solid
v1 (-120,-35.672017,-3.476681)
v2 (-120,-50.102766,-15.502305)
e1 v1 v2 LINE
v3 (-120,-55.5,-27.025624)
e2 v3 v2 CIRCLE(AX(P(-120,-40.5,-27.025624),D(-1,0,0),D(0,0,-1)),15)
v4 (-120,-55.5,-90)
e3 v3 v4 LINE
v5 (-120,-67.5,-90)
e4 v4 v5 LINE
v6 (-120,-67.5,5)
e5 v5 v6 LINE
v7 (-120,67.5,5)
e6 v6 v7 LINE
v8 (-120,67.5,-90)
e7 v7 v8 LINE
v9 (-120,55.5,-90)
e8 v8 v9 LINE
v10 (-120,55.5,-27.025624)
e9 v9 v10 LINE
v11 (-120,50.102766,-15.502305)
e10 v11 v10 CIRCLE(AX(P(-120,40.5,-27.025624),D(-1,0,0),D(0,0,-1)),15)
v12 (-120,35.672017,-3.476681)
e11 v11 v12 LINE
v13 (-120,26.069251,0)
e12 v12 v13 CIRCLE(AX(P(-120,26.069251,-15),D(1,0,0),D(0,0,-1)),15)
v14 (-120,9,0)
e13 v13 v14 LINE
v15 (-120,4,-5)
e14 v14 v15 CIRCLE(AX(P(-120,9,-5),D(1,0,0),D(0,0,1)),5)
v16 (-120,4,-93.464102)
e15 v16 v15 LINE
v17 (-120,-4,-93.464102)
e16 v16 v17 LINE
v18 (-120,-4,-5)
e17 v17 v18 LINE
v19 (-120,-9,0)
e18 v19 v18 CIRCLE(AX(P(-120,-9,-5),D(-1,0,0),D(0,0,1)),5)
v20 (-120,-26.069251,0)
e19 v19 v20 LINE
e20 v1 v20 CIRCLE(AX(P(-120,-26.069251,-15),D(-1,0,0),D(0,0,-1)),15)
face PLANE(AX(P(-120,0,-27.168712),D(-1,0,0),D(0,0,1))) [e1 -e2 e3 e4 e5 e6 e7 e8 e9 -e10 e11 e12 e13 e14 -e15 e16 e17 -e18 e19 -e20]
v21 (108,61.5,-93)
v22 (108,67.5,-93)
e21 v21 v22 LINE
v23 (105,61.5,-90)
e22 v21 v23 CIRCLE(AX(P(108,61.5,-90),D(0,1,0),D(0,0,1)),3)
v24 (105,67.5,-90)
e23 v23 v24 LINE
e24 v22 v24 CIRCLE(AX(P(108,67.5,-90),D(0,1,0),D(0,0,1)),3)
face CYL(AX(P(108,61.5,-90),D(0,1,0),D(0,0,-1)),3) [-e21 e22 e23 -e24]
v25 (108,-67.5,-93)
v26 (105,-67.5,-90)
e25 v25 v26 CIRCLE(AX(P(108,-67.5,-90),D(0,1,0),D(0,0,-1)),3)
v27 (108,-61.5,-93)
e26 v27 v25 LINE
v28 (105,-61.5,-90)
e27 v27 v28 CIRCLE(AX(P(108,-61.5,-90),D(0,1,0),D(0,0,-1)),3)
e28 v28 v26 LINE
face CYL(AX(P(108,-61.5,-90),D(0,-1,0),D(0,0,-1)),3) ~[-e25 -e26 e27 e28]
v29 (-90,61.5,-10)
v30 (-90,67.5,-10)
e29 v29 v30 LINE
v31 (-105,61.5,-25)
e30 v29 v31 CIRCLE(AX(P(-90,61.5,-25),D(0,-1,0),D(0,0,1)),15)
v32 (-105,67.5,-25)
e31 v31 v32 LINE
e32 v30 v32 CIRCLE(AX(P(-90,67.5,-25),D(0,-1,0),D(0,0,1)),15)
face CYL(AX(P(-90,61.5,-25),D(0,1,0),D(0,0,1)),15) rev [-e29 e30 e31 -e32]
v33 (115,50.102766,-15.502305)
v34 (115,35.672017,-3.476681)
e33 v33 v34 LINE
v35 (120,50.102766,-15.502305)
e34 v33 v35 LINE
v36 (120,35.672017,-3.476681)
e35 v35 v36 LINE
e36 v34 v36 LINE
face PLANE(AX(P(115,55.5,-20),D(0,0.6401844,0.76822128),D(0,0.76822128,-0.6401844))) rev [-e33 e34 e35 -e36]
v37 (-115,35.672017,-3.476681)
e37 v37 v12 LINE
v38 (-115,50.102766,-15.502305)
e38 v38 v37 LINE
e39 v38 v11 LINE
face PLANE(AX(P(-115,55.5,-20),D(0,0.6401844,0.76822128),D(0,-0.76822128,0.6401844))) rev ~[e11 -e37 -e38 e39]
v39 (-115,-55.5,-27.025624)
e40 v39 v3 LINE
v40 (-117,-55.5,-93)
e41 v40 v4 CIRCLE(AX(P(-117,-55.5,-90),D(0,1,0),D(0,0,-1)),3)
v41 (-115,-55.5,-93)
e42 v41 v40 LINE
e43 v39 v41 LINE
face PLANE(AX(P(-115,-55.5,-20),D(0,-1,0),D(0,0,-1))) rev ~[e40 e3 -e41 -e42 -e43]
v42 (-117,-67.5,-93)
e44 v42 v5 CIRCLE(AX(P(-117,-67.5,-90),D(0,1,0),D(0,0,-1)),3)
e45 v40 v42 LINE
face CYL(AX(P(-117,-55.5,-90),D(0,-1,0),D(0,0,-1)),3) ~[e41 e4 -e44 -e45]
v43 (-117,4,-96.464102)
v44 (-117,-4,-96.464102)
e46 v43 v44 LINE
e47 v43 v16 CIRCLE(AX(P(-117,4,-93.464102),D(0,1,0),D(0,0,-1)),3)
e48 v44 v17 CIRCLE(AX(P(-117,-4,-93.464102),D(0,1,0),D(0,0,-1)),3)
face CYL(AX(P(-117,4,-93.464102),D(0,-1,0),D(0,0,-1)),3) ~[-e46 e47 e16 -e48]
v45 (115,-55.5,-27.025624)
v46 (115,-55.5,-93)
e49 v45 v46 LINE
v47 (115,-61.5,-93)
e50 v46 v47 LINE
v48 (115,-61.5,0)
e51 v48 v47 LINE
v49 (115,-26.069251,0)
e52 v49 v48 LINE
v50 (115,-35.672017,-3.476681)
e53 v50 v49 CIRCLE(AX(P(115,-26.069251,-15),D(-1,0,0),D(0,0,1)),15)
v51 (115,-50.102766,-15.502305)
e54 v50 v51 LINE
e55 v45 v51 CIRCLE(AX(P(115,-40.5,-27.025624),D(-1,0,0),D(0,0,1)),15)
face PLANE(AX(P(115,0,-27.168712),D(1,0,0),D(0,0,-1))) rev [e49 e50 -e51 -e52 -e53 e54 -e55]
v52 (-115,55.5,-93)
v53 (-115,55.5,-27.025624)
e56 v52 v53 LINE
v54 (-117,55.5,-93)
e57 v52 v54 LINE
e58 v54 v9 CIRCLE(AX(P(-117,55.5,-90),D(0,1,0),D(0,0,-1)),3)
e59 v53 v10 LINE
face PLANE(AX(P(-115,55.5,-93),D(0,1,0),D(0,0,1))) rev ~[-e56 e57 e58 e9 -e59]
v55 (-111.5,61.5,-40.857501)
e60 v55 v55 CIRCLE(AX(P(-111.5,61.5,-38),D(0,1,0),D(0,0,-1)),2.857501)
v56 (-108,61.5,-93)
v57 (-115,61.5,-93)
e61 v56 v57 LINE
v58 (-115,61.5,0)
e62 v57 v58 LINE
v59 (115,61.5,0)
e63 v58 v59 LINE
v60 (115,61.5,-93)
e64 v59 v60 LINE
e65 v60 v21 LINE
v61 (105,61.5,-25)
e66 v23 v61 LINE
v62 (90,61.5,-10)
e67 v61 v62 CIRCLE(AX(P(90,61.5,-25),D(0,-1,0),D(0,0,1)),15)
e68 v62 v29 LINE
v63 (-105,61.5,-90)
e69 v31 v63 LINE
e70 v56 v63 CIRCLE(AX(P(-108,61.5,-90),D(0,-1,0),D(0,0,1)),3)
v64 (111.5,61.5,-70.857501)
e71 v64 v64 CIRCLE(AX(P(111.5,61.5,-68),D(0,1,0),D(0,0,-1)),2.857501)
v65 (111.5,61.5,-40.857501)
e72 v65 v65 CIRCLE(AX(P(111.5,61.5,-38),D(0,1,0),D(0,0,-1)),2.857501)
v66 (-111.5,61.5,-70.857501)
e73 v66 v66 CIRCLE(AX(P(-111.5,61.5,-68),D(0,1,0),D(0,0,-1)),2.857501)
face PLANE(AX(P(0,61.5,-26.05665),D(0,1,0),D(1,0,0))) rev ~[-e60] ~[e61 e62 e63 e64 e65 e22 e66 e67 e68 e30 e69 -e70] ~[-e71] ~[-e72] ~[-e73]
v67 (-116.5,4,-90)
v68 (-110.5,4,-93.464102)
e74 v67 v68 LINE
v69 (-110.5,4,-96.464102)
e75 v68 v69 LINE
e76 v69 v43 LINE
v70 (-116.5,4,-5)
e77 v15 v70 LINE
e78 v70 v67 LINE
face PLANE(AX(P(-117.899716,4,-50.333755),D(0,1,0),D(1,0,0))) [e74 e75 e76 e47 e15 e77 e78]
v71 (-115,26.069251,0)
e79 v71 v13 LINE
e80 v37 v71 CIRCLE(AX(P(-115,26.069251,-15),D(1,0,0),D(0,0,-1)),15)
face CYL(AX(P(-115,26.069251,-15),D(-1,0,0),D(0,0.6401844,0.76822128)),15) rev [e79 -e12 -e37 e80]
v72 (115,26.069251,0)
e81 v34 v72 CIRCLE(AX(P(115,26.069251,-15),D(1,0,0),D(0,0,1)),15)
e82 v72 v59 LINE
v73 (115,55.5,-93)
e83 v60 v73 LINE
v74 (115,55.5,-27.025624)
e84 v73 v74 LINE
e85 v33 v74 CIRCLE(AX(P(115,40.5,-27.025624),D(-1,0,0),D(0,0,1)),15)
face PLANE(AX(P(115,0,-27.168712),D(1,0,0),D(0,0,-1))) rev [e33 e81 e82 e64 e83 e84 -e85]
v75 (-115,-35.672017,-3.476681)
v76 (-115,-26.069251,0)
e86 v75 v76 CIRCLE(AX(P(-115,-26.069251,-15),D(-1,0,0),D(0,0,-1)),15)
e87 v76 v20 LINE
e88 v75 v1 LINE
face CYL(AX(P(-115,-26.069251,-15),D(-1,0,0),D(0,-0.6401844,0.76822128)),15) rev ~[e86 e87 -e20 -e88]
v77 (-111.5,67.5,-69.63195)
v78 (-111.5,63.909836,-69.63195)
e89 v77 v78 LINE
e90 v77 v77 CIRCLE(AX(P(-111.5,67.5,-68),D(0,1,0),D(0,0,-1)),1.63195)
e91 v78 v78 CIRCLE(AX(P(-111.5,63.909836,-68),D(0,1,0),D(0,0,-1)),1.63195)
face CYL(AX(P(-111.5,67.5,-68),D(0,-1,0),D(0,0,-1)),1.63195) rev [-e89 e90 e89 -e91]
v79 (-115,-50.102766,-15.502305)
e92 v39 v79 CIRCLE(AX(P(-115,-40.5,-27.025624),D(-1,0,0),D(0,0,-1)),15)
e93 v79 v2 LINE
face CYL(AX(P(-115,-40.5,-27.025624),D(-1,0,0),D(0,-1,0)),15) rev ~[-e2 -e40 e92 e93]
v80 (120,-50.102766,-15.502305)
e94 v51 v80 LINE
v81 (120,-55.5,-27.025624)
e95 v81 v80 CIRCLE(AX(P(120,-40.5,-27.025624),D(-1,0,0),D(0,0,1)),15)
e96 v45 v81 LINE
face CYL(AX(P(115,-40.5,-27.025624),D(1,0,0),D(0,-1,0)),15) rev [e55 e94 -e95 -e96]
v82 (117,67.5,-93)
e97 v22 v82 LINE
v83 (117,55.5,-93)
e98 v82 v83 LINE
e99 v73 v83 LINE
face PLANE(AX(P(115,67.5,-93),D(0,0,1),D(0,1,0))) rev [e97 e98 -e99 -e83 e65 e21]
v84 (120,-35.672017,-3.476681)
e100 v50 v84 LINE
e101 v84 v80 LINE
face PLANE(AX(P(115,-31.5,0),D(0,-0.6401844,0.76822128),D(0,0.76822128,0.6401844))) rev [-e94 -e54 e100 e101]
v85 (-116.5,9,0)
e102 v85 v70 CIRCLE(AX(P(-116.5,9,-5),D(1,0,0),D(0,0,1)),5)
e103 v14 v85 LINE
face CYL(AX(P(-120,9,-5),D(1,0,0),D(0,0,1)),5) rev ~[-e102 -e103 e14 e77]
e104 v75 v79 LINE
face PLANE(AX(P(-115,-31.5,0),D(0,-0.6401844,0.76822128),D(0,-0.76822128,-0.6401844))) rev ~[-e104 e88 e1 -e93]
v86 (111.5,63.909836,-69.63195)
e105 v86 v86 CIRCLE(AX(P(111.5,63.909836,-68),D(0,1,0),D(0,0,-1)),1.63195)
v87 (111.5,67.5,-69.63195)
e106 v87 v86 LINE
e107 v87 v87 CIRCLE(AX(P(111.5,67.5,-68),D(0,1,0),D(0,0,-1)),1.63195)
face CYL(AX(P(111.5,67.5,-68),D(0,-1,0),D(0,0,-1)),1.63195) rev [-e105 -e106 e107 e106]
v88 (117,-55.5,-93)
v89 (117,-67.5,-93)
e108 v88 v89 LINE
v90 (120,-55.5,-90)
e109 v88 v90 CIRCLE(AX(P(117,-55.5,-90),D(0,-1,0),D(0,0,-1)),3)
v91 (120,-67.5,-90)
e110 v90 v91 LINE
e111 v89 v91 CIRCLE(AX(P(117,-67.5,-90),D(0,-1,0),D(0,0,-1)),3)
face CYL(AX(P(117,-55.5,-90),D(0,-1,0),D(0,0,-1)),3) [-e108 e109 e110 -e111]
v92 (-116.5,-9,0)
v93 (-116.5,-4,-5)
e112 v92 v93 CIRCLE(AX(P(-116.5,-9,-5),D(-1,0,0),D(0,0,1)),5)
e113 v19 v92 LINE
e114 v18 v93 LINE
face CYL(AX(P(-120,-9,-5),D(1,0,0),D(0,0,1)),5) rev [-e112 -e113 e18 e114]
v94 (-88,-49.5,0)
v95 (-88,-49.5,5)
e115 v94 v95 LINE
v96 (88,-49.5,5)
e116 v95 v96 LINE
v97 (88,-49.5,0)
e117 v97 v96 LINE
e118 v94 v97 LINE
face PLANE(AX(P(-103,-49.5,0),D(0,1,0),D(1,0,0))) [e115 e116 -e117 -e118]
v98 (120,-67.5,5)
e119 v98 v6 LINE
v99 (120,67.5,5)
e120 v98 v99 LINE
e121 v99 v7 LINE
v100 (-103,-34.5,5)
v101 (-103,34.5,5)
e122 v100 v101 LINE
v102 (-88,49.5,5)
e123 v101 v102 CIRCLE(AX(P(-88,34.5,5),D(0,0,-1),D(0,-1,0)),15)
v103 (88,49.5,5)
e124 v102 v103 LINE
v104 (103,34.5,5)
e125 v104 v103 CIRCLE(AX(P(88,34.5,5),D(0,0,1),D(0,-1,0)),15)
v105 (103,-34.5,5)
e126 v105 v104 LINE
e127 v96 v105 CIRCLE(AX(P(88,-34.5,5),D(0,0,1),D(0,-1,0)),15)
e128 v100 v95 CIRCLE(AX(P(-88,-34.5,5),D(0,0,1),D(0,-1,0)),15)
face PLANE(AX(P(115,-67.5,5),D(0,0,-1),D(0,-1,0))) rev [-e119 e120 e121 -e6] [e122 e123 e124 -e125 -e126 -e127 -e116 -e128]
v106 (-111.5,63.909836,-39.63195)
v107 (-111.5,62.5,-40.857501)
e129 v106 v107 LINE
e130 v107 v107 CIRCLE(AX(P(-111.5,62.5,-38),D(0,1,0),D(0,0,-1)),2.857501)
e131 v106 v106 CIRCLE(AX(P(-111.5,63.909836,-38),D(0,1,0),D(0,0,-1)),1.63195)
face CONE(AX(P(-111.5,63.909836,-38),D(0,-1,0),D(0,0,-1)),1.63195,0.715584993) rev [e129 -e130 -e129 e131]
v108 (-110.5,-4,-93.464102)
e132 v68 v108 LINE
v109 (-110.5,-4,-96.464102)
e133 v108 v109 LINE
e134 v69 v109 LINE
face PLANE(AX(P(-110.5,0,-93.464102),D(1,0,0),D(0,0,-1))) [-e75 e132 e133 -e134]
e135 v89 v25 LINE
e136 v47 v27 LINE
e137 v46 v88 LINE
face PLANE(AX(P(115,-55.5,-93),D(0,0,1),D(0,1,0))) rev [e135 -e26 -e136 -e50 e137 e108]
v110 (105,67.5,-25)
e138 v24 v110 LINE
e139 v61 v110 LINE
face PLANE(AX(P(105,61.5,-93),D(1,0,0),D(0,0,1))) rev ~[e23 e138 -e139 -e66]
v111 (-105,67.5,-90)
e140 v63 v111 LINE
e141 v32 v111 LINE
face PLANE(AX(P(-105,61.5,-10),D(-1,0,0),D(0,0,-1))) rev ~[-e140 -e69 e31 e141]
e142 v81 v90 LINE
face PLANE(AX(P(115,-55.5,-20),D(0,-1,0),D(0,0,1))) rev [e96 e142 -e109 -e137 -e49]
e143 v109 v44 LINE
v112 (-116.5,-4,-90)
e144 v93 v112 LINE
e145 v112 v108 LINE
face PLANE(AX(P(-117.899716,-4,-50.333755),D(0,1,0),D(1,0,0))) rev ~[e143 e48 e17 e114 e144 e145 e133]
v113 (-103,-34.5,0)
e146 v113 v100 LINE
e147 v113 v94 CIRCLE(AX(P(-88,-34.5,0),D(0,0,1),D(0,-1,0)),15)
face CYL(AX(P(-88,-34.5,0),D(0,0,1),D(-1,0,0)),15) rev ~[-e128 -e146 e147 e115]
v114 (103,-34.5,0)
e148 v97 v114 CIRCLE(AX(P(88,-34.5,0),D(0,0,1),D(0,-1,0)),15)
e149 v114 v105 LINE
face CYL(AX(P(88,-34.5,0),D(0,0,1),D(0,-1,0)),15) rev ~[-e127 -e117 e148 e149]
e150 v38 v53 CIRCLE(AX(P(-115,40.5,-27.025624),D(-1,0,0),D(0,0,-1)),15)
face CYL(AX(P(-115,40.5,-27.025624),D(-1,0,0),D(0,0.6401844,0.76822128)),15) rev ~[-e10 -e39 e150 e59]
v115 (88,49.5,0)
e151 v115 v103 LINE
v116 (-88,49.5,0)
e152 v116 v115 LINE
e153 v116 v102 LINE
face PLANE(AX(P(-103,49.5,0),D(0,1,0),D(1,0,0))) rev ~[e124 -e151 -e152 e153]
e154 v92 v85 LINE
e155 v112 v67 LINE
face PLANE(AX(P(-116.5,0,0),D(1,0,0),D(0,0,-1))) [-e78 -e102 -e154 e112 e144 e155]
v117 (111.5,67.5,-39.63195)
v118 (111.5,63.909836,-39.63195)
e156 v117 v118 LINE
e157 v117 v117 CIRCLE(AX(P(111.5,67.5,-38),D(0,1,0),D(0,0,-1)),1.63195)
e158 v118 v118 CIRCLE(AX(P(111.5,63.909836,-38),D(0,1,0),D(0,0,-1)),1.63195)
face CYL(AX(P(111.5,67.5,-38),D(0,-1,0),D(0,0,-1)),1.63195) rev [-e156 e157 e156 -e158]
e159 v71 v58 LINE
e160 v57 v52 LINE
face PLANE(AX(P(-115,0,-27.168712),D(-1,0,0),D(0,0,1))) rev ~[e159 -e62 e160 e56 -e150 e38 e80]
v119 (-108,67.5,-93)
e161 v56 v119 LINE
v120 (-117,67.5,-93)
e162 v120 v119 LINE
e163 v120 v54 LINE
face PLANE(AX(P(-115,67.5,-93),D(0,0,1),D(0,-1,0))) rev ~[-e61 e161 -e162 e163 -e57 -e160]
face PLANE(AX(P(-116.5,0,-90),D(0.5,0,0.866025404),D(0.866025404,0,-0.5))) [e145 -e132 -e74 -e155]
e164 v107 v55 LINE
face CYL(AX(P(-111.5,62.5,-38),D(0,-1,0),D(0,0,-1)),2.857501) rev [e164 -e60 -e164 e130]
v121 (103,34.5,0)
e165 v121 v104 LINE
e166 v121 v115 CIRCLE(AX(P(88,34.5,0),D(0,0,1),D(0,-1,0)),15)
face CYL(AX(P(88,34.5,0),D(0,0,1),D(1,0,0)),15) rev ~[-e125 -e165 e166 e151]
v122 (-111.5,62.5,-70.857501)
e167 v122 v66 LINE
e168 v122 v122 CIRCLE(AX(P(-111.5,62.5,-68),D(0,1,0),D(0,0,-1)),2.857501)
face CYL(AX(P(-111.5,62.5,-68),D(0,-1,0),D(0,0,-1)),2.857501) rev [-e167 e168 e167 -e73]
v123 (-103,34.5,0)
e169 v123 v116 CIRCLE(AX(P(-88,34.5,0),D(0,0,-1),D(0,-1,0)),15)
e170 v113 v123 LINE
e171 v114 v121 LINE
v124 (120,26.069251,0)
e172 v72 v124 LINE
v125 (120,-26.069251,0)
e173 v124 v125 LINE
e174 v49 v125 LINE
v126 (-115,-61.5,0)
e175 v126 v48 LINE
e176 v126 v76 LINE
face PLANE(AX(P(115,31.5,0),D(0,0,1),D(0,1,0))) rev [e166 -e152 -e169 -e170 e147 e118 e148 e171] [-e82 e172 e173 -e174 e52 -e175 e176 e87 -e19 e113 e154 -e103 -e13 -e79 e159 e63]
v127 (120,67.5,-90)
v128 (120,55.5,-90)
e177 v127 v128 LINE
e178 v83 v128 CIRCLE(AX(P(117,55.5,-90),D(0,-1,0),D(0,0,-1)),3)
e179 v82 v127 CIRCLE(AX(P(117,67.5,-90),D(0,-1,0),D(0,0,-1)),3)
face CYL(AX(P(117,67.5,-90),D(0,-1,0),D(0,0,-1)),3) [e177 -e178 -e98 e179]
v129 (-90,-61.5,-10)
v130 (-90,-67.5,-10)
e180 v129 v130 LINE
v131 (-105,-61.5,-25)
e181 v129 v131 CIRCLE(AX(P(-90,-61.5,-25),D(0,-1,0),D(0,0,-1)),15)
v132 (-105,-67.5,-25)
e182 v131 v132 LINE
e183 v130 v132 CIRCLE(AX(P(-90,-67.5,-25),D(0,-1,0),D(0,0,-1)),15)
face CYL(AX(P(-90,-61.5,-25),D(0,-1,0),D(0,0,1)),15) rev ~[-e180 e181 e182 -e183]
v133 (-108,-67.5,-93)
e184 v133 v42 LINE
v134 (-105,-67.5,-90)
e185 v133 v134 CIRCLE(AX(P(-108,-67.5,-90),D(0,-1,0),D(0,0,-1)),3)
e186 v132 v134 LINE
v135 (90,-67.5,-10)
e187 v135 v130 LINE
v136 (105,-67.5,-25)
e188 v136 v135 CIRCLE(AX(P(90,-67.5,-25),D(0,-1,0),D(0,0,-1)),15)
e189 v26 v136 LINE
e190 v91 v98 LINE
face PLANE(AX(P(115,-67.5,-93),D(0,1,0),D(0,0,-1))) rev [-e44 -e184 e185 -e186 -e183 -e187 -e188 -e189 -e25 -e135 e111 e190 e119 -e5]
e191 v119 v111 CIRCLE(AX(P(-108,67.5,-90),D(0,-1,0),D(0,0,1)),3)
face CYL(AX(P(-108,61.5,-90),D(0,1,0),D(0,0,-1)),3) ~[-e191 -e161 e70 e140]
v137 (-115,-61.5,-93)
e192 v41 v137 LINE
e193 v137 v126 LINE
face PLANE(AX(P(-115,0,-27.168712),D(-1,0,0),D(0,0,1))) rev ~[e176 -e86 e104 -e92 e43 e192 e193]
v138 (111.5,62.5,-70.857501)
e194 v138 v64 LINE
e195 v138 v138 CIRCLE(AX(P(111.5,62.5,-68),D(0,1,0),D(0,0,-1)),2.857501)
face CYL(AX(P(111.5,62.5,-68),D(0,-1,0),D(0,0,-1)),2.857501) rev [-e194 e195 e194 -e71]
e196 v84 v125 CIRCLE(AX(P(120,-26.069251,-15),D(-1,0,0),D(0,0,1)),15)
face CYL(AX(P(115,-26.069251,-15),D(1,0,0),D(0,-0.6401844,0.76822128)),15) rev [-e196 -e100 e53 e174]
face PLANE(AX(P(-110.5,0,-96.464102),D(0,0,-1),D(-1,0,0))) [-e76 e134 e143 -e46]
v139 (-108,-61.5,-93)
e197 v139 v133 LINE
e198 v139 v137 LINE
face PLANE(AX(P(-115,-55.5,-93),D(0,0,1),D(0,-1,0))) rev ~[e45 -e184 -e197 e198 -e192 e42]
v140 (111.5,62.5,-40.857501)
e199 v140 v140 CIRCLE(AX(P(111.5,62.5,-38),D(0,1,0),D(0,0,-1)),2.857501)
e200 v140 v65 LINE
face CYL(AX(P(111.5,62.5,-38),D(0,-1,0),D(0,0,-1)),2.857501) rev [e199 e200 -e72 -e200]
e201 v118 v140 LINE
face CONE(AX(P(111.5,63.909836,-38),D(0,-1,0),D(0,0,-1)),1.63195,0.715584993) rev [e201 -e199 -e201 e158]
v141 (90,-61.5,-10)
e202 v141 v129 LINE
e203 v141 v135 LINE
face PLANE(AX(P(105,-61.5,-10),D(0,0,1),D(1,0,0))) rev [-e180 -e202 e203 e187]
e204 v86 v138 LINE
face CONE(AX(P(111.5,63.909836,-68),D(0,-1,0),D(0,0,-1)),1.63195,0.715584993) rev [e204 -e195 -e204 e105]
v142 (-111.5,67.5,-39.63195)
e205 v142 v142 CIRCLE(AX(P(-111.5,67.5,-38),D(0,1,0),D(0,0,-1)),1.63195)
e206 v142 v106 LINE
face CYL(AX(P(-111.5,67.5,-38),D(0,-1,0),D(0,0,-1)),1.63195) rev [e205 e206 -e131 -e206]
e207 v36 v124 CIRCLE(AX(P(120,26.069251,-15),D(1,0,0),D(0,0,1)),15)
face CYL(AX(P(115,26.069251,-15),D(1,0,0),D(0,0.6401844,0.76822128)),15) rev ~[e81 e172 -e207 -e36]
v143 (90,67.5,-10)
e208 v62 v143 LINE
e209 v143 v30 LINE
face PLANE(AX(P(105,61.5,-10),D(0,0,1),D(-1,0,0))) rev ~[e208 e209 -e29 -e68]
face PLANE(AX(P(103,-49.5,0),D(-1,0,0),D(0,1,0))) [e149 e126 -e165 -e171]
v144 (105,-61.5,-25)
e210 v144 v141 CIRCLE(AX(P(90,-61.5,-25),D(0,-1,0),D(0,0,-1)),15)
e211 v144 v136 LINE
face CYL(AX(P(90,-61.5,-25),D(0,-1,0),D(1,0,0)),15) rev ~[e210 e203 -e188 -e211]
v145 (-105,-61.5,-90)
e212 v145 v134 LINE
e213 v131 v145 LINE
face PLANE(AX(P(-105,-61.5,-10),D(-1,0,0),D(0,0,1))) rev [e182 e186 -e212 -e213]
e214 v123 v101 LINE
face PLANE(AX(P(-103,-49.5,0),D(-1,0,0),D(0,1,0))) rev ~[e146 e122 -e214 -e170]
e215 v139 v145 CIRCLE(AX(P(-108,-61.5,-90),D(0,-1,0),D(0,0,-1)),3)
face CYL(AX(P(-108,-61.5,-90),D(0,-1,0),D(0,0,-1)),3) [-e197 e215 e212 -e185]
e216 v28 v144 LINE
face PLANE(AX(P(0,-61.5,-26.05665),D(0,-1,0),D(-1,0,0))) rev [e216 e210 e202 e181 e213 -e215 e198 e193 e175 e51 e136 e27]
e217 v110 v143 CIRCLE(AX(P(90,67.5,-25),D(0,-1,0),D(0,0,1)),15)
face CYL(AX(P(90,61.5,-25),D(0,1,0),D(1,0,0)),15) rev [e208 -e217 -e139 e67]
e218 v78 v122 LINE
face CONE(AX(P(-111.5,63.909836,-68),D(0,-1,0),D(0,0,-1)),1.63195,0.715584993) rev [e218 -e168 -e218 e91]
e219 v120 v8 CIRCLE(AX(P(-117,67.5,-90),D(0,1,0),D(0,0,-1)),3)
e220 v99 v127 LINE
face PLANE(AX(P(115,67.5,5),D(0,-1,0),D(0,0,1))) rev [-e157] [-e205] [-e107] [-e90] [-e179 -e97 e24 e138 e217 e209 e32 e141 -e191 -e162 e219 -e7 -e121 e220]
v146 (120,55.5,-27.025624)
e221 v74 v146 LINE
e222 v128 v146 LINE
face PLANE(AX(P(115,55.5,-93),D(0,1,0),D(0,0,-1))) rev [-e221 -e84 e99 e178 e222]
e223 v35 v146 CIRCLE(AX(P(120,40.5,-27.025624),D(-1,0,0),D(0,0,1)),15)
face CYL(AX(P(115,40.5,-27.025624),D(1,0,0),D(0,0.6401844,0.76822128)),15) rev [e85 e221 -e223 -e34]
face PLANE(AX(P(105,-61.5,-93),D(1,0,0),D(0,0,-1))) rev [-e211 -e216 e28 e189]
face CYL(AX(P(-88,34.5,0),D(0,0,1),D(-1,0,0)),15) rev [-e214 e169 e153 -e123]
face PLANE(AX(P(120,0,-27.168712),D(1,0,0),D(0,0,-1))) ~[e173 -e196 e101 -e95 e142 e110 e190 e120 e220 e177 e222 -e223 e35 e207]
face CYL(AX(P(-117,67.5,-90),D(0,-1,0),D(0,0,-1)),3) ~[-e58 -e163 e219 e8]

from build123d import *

# Parameters (mm, degrees)
SKETCH1_W                                     = 230
SKETCH1_H                                     = 123
SKETCH1_W_2                                   = 206
SKETCH1_H_2                                   = 99
BOSS_EXTRUDE1_DEPTH                           = 5
SKETCH2_W                                     = 230
SKETCH2_H                                     = 5
BOSS_EXTRUDE2_DEPTH                           = 6
BOSS_EXTRUDE3_DEPTH                           = 5
FILLET1_R                                     = 15
BOSS_EXTRUDE4_DEPTH                           = 4
FILLET2_R                                     = 5
FILLET3_R                                     = 3
CSK_FOR_4_FLAT_HEAD_MACHINE_SCREW1_AT_2_COUNT = 2
CSK_FOR_4_FLAT_HEAD_MACHINE_SCREW1_AT_2_PITCH = 30
CSK_FOR_4_FLAT_HEAD_MACHINE_SCREW1_AT_3_COUNT = 2
CSK_FOR_4_FLAT_HEAD_MACHINE_SCREW1_AT_3_PITCH = 225.008888713
CSK_FOR_4_FLAT_HEAD_MACHINE_SCREW1_AT_4_COUNT = 2
CSK_FOR_4_FLAT_HEAD_MACHINE_SCREW1_AT_4_PITCH = 223


with BuildPart() as part:
    # Sketch1 → Boss-Extrude1 (new body)
    with BuildSketch(Plane.XY):
        Rectangle(SKETCH1_W, SKETCH1_H)
        Rectangle(SKETCH1_W_2, SKETCH1_H_2, mode=Mode.SUBTRACT)
    extrude(amount=BOSS_EXTRUDE1_DEPTH)

    # Sketch2 → Boss-Extrude2 (add)
    with BuildSketch(Plane(origin=(0, 61.5, 0), x_dir=(1, 0, 0), z_dir=(0, 1, 0))):
        Polygon((-115, 10), (-115, 0), (115, 0), (115, 10), (115, 93), (105, 93), (105, 10), (-105, 10), (-105, 93), (-115, 93), align=None)
        with Locations((0, -2.5)):
            Rectangle(SKETCH2_W, SKETCH2_H)
    boss_extrude2 = extrude(amount=BOSS_EXTRUDE2_DEPTH)

    # Mirror1: Boss-Extrude2 across plane
    add(boss_extrude2.mirror(Plane.ZX))

    # Sketch3 → Boss-Extrude3 (add)
    with BuildSketch(Plane.ZY.offset(115)):
        Polygon((-93, 61.5), (0, 61.5), (0, -61.5), (-93, -61.5), (-93, -67.5), (5, -67.5), (5, 67.5), (-93, 67.5), align=None)
        Polygon((0, 61.5), (-25, 61.5), (-20, 55.5), (0, 31.5), align=None)
        Polygon((0, -61.5), (0, -31.5), (-20, -55.5), (-25, -61.5), align=None)
        Polygon((-20, 55.5), (-25, 61.5), (-93, 61.5), (-93, 55.5), align=None)
        Polygon((-25, -61.5), (-20, -55.5), (-93, -55.5), (-93, -61.5), align=None)
    boss_extrude3 = extrude(amount=BOSS_EXTRUDE3_DEPTH)

    # Mirror2: Boss-Extrude3 across plane
    add(boss_extrude3.mirror(Plane(origin=(0, 0, 0), x_dir=(0, 0, 1), z_dir=(1, 0, 0))))

    # Fillet1
    fillet1_edges = [part.edges().sort_by_distance(p)[0] for p in [
        (117.5, 55.5, -20),
        (117.5, -55.5, -20),
        (117.5, -31.5, 0),
        (117.5, 31.5, 0),
        (-103, -49.5, 2.5),
        (103, -49.5, 2.5),
        (103, 49.5, 2.5),
        (-103, 49.5, 2.5),
        (105, 64.5, -10),
        (-105, 64.5, -10),
        (-105, -64.5, -10),
        (105, -64.5, -10),
        (-117.5, 55.5, -20),
        (-117.5, 31.5, 0),
        (-117.5, -31.5, 0),
        (-117.5, -55.5, -20),
    ]]
    fillet(fillet1_edges, radius=FILLET1_R)

    # Sketch4 → Boss-Extrude4 (add, symmetric)
    with BuildSketch(Plane(origin=(0, 0, 0), x_dir=(1, 0, 0), z_dir=(0, 1, 0))):
        Polygon((-120, 96.464101615), (-120, 0), (-116.5, 0), (-116.5, 90), (-110.5, 93.464101615), (-110.5, 96.464101615), align=None)
    extrude(amount=BOSS_EXTRUDE4_DEPTH, both=True)

    # Fillet2
    fillet2_edges = [part.edges().sort_by_distance(p)[0] for p in [
        (-118.25, 4, 0),
        (-118.25, -4, 0),
    ]]
    fillet(fillet2_edges, radius=FILLET2_R)

    # Fillet3
    fillet3_edges = [part.edges().sort_by_distance(p)[0] for p in [
        (120, 61.5, -93),
        (120, -61.5, -93),
        (105, 64.5, -93),
        (-120, 0, -96.464101615),
        (-105, 64.5, -93),
        (-105, -64.5, -93),
        (105, -64.5, -93),
        (-120, -61.5, -93),
        (-120, 61.5, -93),
    ]]
    fillet(fillet3_edges, radius=FILLET3_R)

    # Sketch6 → CSK for #4 Flat Head Machine Screw1 (revolve, cut)
    with BuildSketch(Plane(origin=(111.5, 61.5, -68), x_dir=(0, 0, -1), z_dir=(1, 0, 0))):
        Polygon((0, 0), (0, 6), (1.63195, 6), (1.63195, 2.409835609), (2.857501397, 1), (2.857501397, 0), align=None)
    csk_for_4_flat_head_machine_screw1 = revolve(axis=Axis((111.5, 55.15, -68), (0, 1, 0)), mode=Mode.SUBTRACT)

    # CSK for #4 Flat Head Machine Screw1 at 2: CSK for #4 Flat Head Machine Screw1 ×2
    with Locations(*[(0, 0, i * CSK_FOR_4_FLAT_HEAD_MACHINE_SCREW1_AT_2_PITCH) for i in range(1, CSK_FOR_4_FLAT_HEAD_MACHINE_SCREW1_AT_2_COUNT)]):
        add(csk_for_4_flat_head_machine_screw1, mode=Mode.SUBTRACT)

    # CSK for #4 Flat Head Machine Screw1 at 3: CSK for #4 Flat Head Machine Screw1 ×2
    with Locations(*[Vector(-0.991071958, 0, 0.133328066) * (i * CSK_FOR_4_FLAT_HEAD_MACHINE_SCREW1_AT_3_PITCH) for i in range(1, CSK_FOR_4_FLAT_HEAD_MACHINE_SCREW1_AT_3_COUNT)]):
        add(csk_for_4_flat_head_machine_screw1, mode=Mode.SUBTRACT)

    # CSK for #4 Flat Head Machine Screw1 at 4: CSK for #4 Flat Head Machine Screw1 ×2
    with Locations(*[(-i * CSK_FOR_4_FLAT_HEAD_MACHINE_SCREW1_AT_4_PITCH, 0, 0) for i in range(1, CSK_FOR_4_FLAT_HEAD_MACHINE_SCREW1_AT_4_COUNT)]):
        add(csk_for_4_flat_head_machine_screw1, mode=Mode.SUBTRACT)


solid = part.part
